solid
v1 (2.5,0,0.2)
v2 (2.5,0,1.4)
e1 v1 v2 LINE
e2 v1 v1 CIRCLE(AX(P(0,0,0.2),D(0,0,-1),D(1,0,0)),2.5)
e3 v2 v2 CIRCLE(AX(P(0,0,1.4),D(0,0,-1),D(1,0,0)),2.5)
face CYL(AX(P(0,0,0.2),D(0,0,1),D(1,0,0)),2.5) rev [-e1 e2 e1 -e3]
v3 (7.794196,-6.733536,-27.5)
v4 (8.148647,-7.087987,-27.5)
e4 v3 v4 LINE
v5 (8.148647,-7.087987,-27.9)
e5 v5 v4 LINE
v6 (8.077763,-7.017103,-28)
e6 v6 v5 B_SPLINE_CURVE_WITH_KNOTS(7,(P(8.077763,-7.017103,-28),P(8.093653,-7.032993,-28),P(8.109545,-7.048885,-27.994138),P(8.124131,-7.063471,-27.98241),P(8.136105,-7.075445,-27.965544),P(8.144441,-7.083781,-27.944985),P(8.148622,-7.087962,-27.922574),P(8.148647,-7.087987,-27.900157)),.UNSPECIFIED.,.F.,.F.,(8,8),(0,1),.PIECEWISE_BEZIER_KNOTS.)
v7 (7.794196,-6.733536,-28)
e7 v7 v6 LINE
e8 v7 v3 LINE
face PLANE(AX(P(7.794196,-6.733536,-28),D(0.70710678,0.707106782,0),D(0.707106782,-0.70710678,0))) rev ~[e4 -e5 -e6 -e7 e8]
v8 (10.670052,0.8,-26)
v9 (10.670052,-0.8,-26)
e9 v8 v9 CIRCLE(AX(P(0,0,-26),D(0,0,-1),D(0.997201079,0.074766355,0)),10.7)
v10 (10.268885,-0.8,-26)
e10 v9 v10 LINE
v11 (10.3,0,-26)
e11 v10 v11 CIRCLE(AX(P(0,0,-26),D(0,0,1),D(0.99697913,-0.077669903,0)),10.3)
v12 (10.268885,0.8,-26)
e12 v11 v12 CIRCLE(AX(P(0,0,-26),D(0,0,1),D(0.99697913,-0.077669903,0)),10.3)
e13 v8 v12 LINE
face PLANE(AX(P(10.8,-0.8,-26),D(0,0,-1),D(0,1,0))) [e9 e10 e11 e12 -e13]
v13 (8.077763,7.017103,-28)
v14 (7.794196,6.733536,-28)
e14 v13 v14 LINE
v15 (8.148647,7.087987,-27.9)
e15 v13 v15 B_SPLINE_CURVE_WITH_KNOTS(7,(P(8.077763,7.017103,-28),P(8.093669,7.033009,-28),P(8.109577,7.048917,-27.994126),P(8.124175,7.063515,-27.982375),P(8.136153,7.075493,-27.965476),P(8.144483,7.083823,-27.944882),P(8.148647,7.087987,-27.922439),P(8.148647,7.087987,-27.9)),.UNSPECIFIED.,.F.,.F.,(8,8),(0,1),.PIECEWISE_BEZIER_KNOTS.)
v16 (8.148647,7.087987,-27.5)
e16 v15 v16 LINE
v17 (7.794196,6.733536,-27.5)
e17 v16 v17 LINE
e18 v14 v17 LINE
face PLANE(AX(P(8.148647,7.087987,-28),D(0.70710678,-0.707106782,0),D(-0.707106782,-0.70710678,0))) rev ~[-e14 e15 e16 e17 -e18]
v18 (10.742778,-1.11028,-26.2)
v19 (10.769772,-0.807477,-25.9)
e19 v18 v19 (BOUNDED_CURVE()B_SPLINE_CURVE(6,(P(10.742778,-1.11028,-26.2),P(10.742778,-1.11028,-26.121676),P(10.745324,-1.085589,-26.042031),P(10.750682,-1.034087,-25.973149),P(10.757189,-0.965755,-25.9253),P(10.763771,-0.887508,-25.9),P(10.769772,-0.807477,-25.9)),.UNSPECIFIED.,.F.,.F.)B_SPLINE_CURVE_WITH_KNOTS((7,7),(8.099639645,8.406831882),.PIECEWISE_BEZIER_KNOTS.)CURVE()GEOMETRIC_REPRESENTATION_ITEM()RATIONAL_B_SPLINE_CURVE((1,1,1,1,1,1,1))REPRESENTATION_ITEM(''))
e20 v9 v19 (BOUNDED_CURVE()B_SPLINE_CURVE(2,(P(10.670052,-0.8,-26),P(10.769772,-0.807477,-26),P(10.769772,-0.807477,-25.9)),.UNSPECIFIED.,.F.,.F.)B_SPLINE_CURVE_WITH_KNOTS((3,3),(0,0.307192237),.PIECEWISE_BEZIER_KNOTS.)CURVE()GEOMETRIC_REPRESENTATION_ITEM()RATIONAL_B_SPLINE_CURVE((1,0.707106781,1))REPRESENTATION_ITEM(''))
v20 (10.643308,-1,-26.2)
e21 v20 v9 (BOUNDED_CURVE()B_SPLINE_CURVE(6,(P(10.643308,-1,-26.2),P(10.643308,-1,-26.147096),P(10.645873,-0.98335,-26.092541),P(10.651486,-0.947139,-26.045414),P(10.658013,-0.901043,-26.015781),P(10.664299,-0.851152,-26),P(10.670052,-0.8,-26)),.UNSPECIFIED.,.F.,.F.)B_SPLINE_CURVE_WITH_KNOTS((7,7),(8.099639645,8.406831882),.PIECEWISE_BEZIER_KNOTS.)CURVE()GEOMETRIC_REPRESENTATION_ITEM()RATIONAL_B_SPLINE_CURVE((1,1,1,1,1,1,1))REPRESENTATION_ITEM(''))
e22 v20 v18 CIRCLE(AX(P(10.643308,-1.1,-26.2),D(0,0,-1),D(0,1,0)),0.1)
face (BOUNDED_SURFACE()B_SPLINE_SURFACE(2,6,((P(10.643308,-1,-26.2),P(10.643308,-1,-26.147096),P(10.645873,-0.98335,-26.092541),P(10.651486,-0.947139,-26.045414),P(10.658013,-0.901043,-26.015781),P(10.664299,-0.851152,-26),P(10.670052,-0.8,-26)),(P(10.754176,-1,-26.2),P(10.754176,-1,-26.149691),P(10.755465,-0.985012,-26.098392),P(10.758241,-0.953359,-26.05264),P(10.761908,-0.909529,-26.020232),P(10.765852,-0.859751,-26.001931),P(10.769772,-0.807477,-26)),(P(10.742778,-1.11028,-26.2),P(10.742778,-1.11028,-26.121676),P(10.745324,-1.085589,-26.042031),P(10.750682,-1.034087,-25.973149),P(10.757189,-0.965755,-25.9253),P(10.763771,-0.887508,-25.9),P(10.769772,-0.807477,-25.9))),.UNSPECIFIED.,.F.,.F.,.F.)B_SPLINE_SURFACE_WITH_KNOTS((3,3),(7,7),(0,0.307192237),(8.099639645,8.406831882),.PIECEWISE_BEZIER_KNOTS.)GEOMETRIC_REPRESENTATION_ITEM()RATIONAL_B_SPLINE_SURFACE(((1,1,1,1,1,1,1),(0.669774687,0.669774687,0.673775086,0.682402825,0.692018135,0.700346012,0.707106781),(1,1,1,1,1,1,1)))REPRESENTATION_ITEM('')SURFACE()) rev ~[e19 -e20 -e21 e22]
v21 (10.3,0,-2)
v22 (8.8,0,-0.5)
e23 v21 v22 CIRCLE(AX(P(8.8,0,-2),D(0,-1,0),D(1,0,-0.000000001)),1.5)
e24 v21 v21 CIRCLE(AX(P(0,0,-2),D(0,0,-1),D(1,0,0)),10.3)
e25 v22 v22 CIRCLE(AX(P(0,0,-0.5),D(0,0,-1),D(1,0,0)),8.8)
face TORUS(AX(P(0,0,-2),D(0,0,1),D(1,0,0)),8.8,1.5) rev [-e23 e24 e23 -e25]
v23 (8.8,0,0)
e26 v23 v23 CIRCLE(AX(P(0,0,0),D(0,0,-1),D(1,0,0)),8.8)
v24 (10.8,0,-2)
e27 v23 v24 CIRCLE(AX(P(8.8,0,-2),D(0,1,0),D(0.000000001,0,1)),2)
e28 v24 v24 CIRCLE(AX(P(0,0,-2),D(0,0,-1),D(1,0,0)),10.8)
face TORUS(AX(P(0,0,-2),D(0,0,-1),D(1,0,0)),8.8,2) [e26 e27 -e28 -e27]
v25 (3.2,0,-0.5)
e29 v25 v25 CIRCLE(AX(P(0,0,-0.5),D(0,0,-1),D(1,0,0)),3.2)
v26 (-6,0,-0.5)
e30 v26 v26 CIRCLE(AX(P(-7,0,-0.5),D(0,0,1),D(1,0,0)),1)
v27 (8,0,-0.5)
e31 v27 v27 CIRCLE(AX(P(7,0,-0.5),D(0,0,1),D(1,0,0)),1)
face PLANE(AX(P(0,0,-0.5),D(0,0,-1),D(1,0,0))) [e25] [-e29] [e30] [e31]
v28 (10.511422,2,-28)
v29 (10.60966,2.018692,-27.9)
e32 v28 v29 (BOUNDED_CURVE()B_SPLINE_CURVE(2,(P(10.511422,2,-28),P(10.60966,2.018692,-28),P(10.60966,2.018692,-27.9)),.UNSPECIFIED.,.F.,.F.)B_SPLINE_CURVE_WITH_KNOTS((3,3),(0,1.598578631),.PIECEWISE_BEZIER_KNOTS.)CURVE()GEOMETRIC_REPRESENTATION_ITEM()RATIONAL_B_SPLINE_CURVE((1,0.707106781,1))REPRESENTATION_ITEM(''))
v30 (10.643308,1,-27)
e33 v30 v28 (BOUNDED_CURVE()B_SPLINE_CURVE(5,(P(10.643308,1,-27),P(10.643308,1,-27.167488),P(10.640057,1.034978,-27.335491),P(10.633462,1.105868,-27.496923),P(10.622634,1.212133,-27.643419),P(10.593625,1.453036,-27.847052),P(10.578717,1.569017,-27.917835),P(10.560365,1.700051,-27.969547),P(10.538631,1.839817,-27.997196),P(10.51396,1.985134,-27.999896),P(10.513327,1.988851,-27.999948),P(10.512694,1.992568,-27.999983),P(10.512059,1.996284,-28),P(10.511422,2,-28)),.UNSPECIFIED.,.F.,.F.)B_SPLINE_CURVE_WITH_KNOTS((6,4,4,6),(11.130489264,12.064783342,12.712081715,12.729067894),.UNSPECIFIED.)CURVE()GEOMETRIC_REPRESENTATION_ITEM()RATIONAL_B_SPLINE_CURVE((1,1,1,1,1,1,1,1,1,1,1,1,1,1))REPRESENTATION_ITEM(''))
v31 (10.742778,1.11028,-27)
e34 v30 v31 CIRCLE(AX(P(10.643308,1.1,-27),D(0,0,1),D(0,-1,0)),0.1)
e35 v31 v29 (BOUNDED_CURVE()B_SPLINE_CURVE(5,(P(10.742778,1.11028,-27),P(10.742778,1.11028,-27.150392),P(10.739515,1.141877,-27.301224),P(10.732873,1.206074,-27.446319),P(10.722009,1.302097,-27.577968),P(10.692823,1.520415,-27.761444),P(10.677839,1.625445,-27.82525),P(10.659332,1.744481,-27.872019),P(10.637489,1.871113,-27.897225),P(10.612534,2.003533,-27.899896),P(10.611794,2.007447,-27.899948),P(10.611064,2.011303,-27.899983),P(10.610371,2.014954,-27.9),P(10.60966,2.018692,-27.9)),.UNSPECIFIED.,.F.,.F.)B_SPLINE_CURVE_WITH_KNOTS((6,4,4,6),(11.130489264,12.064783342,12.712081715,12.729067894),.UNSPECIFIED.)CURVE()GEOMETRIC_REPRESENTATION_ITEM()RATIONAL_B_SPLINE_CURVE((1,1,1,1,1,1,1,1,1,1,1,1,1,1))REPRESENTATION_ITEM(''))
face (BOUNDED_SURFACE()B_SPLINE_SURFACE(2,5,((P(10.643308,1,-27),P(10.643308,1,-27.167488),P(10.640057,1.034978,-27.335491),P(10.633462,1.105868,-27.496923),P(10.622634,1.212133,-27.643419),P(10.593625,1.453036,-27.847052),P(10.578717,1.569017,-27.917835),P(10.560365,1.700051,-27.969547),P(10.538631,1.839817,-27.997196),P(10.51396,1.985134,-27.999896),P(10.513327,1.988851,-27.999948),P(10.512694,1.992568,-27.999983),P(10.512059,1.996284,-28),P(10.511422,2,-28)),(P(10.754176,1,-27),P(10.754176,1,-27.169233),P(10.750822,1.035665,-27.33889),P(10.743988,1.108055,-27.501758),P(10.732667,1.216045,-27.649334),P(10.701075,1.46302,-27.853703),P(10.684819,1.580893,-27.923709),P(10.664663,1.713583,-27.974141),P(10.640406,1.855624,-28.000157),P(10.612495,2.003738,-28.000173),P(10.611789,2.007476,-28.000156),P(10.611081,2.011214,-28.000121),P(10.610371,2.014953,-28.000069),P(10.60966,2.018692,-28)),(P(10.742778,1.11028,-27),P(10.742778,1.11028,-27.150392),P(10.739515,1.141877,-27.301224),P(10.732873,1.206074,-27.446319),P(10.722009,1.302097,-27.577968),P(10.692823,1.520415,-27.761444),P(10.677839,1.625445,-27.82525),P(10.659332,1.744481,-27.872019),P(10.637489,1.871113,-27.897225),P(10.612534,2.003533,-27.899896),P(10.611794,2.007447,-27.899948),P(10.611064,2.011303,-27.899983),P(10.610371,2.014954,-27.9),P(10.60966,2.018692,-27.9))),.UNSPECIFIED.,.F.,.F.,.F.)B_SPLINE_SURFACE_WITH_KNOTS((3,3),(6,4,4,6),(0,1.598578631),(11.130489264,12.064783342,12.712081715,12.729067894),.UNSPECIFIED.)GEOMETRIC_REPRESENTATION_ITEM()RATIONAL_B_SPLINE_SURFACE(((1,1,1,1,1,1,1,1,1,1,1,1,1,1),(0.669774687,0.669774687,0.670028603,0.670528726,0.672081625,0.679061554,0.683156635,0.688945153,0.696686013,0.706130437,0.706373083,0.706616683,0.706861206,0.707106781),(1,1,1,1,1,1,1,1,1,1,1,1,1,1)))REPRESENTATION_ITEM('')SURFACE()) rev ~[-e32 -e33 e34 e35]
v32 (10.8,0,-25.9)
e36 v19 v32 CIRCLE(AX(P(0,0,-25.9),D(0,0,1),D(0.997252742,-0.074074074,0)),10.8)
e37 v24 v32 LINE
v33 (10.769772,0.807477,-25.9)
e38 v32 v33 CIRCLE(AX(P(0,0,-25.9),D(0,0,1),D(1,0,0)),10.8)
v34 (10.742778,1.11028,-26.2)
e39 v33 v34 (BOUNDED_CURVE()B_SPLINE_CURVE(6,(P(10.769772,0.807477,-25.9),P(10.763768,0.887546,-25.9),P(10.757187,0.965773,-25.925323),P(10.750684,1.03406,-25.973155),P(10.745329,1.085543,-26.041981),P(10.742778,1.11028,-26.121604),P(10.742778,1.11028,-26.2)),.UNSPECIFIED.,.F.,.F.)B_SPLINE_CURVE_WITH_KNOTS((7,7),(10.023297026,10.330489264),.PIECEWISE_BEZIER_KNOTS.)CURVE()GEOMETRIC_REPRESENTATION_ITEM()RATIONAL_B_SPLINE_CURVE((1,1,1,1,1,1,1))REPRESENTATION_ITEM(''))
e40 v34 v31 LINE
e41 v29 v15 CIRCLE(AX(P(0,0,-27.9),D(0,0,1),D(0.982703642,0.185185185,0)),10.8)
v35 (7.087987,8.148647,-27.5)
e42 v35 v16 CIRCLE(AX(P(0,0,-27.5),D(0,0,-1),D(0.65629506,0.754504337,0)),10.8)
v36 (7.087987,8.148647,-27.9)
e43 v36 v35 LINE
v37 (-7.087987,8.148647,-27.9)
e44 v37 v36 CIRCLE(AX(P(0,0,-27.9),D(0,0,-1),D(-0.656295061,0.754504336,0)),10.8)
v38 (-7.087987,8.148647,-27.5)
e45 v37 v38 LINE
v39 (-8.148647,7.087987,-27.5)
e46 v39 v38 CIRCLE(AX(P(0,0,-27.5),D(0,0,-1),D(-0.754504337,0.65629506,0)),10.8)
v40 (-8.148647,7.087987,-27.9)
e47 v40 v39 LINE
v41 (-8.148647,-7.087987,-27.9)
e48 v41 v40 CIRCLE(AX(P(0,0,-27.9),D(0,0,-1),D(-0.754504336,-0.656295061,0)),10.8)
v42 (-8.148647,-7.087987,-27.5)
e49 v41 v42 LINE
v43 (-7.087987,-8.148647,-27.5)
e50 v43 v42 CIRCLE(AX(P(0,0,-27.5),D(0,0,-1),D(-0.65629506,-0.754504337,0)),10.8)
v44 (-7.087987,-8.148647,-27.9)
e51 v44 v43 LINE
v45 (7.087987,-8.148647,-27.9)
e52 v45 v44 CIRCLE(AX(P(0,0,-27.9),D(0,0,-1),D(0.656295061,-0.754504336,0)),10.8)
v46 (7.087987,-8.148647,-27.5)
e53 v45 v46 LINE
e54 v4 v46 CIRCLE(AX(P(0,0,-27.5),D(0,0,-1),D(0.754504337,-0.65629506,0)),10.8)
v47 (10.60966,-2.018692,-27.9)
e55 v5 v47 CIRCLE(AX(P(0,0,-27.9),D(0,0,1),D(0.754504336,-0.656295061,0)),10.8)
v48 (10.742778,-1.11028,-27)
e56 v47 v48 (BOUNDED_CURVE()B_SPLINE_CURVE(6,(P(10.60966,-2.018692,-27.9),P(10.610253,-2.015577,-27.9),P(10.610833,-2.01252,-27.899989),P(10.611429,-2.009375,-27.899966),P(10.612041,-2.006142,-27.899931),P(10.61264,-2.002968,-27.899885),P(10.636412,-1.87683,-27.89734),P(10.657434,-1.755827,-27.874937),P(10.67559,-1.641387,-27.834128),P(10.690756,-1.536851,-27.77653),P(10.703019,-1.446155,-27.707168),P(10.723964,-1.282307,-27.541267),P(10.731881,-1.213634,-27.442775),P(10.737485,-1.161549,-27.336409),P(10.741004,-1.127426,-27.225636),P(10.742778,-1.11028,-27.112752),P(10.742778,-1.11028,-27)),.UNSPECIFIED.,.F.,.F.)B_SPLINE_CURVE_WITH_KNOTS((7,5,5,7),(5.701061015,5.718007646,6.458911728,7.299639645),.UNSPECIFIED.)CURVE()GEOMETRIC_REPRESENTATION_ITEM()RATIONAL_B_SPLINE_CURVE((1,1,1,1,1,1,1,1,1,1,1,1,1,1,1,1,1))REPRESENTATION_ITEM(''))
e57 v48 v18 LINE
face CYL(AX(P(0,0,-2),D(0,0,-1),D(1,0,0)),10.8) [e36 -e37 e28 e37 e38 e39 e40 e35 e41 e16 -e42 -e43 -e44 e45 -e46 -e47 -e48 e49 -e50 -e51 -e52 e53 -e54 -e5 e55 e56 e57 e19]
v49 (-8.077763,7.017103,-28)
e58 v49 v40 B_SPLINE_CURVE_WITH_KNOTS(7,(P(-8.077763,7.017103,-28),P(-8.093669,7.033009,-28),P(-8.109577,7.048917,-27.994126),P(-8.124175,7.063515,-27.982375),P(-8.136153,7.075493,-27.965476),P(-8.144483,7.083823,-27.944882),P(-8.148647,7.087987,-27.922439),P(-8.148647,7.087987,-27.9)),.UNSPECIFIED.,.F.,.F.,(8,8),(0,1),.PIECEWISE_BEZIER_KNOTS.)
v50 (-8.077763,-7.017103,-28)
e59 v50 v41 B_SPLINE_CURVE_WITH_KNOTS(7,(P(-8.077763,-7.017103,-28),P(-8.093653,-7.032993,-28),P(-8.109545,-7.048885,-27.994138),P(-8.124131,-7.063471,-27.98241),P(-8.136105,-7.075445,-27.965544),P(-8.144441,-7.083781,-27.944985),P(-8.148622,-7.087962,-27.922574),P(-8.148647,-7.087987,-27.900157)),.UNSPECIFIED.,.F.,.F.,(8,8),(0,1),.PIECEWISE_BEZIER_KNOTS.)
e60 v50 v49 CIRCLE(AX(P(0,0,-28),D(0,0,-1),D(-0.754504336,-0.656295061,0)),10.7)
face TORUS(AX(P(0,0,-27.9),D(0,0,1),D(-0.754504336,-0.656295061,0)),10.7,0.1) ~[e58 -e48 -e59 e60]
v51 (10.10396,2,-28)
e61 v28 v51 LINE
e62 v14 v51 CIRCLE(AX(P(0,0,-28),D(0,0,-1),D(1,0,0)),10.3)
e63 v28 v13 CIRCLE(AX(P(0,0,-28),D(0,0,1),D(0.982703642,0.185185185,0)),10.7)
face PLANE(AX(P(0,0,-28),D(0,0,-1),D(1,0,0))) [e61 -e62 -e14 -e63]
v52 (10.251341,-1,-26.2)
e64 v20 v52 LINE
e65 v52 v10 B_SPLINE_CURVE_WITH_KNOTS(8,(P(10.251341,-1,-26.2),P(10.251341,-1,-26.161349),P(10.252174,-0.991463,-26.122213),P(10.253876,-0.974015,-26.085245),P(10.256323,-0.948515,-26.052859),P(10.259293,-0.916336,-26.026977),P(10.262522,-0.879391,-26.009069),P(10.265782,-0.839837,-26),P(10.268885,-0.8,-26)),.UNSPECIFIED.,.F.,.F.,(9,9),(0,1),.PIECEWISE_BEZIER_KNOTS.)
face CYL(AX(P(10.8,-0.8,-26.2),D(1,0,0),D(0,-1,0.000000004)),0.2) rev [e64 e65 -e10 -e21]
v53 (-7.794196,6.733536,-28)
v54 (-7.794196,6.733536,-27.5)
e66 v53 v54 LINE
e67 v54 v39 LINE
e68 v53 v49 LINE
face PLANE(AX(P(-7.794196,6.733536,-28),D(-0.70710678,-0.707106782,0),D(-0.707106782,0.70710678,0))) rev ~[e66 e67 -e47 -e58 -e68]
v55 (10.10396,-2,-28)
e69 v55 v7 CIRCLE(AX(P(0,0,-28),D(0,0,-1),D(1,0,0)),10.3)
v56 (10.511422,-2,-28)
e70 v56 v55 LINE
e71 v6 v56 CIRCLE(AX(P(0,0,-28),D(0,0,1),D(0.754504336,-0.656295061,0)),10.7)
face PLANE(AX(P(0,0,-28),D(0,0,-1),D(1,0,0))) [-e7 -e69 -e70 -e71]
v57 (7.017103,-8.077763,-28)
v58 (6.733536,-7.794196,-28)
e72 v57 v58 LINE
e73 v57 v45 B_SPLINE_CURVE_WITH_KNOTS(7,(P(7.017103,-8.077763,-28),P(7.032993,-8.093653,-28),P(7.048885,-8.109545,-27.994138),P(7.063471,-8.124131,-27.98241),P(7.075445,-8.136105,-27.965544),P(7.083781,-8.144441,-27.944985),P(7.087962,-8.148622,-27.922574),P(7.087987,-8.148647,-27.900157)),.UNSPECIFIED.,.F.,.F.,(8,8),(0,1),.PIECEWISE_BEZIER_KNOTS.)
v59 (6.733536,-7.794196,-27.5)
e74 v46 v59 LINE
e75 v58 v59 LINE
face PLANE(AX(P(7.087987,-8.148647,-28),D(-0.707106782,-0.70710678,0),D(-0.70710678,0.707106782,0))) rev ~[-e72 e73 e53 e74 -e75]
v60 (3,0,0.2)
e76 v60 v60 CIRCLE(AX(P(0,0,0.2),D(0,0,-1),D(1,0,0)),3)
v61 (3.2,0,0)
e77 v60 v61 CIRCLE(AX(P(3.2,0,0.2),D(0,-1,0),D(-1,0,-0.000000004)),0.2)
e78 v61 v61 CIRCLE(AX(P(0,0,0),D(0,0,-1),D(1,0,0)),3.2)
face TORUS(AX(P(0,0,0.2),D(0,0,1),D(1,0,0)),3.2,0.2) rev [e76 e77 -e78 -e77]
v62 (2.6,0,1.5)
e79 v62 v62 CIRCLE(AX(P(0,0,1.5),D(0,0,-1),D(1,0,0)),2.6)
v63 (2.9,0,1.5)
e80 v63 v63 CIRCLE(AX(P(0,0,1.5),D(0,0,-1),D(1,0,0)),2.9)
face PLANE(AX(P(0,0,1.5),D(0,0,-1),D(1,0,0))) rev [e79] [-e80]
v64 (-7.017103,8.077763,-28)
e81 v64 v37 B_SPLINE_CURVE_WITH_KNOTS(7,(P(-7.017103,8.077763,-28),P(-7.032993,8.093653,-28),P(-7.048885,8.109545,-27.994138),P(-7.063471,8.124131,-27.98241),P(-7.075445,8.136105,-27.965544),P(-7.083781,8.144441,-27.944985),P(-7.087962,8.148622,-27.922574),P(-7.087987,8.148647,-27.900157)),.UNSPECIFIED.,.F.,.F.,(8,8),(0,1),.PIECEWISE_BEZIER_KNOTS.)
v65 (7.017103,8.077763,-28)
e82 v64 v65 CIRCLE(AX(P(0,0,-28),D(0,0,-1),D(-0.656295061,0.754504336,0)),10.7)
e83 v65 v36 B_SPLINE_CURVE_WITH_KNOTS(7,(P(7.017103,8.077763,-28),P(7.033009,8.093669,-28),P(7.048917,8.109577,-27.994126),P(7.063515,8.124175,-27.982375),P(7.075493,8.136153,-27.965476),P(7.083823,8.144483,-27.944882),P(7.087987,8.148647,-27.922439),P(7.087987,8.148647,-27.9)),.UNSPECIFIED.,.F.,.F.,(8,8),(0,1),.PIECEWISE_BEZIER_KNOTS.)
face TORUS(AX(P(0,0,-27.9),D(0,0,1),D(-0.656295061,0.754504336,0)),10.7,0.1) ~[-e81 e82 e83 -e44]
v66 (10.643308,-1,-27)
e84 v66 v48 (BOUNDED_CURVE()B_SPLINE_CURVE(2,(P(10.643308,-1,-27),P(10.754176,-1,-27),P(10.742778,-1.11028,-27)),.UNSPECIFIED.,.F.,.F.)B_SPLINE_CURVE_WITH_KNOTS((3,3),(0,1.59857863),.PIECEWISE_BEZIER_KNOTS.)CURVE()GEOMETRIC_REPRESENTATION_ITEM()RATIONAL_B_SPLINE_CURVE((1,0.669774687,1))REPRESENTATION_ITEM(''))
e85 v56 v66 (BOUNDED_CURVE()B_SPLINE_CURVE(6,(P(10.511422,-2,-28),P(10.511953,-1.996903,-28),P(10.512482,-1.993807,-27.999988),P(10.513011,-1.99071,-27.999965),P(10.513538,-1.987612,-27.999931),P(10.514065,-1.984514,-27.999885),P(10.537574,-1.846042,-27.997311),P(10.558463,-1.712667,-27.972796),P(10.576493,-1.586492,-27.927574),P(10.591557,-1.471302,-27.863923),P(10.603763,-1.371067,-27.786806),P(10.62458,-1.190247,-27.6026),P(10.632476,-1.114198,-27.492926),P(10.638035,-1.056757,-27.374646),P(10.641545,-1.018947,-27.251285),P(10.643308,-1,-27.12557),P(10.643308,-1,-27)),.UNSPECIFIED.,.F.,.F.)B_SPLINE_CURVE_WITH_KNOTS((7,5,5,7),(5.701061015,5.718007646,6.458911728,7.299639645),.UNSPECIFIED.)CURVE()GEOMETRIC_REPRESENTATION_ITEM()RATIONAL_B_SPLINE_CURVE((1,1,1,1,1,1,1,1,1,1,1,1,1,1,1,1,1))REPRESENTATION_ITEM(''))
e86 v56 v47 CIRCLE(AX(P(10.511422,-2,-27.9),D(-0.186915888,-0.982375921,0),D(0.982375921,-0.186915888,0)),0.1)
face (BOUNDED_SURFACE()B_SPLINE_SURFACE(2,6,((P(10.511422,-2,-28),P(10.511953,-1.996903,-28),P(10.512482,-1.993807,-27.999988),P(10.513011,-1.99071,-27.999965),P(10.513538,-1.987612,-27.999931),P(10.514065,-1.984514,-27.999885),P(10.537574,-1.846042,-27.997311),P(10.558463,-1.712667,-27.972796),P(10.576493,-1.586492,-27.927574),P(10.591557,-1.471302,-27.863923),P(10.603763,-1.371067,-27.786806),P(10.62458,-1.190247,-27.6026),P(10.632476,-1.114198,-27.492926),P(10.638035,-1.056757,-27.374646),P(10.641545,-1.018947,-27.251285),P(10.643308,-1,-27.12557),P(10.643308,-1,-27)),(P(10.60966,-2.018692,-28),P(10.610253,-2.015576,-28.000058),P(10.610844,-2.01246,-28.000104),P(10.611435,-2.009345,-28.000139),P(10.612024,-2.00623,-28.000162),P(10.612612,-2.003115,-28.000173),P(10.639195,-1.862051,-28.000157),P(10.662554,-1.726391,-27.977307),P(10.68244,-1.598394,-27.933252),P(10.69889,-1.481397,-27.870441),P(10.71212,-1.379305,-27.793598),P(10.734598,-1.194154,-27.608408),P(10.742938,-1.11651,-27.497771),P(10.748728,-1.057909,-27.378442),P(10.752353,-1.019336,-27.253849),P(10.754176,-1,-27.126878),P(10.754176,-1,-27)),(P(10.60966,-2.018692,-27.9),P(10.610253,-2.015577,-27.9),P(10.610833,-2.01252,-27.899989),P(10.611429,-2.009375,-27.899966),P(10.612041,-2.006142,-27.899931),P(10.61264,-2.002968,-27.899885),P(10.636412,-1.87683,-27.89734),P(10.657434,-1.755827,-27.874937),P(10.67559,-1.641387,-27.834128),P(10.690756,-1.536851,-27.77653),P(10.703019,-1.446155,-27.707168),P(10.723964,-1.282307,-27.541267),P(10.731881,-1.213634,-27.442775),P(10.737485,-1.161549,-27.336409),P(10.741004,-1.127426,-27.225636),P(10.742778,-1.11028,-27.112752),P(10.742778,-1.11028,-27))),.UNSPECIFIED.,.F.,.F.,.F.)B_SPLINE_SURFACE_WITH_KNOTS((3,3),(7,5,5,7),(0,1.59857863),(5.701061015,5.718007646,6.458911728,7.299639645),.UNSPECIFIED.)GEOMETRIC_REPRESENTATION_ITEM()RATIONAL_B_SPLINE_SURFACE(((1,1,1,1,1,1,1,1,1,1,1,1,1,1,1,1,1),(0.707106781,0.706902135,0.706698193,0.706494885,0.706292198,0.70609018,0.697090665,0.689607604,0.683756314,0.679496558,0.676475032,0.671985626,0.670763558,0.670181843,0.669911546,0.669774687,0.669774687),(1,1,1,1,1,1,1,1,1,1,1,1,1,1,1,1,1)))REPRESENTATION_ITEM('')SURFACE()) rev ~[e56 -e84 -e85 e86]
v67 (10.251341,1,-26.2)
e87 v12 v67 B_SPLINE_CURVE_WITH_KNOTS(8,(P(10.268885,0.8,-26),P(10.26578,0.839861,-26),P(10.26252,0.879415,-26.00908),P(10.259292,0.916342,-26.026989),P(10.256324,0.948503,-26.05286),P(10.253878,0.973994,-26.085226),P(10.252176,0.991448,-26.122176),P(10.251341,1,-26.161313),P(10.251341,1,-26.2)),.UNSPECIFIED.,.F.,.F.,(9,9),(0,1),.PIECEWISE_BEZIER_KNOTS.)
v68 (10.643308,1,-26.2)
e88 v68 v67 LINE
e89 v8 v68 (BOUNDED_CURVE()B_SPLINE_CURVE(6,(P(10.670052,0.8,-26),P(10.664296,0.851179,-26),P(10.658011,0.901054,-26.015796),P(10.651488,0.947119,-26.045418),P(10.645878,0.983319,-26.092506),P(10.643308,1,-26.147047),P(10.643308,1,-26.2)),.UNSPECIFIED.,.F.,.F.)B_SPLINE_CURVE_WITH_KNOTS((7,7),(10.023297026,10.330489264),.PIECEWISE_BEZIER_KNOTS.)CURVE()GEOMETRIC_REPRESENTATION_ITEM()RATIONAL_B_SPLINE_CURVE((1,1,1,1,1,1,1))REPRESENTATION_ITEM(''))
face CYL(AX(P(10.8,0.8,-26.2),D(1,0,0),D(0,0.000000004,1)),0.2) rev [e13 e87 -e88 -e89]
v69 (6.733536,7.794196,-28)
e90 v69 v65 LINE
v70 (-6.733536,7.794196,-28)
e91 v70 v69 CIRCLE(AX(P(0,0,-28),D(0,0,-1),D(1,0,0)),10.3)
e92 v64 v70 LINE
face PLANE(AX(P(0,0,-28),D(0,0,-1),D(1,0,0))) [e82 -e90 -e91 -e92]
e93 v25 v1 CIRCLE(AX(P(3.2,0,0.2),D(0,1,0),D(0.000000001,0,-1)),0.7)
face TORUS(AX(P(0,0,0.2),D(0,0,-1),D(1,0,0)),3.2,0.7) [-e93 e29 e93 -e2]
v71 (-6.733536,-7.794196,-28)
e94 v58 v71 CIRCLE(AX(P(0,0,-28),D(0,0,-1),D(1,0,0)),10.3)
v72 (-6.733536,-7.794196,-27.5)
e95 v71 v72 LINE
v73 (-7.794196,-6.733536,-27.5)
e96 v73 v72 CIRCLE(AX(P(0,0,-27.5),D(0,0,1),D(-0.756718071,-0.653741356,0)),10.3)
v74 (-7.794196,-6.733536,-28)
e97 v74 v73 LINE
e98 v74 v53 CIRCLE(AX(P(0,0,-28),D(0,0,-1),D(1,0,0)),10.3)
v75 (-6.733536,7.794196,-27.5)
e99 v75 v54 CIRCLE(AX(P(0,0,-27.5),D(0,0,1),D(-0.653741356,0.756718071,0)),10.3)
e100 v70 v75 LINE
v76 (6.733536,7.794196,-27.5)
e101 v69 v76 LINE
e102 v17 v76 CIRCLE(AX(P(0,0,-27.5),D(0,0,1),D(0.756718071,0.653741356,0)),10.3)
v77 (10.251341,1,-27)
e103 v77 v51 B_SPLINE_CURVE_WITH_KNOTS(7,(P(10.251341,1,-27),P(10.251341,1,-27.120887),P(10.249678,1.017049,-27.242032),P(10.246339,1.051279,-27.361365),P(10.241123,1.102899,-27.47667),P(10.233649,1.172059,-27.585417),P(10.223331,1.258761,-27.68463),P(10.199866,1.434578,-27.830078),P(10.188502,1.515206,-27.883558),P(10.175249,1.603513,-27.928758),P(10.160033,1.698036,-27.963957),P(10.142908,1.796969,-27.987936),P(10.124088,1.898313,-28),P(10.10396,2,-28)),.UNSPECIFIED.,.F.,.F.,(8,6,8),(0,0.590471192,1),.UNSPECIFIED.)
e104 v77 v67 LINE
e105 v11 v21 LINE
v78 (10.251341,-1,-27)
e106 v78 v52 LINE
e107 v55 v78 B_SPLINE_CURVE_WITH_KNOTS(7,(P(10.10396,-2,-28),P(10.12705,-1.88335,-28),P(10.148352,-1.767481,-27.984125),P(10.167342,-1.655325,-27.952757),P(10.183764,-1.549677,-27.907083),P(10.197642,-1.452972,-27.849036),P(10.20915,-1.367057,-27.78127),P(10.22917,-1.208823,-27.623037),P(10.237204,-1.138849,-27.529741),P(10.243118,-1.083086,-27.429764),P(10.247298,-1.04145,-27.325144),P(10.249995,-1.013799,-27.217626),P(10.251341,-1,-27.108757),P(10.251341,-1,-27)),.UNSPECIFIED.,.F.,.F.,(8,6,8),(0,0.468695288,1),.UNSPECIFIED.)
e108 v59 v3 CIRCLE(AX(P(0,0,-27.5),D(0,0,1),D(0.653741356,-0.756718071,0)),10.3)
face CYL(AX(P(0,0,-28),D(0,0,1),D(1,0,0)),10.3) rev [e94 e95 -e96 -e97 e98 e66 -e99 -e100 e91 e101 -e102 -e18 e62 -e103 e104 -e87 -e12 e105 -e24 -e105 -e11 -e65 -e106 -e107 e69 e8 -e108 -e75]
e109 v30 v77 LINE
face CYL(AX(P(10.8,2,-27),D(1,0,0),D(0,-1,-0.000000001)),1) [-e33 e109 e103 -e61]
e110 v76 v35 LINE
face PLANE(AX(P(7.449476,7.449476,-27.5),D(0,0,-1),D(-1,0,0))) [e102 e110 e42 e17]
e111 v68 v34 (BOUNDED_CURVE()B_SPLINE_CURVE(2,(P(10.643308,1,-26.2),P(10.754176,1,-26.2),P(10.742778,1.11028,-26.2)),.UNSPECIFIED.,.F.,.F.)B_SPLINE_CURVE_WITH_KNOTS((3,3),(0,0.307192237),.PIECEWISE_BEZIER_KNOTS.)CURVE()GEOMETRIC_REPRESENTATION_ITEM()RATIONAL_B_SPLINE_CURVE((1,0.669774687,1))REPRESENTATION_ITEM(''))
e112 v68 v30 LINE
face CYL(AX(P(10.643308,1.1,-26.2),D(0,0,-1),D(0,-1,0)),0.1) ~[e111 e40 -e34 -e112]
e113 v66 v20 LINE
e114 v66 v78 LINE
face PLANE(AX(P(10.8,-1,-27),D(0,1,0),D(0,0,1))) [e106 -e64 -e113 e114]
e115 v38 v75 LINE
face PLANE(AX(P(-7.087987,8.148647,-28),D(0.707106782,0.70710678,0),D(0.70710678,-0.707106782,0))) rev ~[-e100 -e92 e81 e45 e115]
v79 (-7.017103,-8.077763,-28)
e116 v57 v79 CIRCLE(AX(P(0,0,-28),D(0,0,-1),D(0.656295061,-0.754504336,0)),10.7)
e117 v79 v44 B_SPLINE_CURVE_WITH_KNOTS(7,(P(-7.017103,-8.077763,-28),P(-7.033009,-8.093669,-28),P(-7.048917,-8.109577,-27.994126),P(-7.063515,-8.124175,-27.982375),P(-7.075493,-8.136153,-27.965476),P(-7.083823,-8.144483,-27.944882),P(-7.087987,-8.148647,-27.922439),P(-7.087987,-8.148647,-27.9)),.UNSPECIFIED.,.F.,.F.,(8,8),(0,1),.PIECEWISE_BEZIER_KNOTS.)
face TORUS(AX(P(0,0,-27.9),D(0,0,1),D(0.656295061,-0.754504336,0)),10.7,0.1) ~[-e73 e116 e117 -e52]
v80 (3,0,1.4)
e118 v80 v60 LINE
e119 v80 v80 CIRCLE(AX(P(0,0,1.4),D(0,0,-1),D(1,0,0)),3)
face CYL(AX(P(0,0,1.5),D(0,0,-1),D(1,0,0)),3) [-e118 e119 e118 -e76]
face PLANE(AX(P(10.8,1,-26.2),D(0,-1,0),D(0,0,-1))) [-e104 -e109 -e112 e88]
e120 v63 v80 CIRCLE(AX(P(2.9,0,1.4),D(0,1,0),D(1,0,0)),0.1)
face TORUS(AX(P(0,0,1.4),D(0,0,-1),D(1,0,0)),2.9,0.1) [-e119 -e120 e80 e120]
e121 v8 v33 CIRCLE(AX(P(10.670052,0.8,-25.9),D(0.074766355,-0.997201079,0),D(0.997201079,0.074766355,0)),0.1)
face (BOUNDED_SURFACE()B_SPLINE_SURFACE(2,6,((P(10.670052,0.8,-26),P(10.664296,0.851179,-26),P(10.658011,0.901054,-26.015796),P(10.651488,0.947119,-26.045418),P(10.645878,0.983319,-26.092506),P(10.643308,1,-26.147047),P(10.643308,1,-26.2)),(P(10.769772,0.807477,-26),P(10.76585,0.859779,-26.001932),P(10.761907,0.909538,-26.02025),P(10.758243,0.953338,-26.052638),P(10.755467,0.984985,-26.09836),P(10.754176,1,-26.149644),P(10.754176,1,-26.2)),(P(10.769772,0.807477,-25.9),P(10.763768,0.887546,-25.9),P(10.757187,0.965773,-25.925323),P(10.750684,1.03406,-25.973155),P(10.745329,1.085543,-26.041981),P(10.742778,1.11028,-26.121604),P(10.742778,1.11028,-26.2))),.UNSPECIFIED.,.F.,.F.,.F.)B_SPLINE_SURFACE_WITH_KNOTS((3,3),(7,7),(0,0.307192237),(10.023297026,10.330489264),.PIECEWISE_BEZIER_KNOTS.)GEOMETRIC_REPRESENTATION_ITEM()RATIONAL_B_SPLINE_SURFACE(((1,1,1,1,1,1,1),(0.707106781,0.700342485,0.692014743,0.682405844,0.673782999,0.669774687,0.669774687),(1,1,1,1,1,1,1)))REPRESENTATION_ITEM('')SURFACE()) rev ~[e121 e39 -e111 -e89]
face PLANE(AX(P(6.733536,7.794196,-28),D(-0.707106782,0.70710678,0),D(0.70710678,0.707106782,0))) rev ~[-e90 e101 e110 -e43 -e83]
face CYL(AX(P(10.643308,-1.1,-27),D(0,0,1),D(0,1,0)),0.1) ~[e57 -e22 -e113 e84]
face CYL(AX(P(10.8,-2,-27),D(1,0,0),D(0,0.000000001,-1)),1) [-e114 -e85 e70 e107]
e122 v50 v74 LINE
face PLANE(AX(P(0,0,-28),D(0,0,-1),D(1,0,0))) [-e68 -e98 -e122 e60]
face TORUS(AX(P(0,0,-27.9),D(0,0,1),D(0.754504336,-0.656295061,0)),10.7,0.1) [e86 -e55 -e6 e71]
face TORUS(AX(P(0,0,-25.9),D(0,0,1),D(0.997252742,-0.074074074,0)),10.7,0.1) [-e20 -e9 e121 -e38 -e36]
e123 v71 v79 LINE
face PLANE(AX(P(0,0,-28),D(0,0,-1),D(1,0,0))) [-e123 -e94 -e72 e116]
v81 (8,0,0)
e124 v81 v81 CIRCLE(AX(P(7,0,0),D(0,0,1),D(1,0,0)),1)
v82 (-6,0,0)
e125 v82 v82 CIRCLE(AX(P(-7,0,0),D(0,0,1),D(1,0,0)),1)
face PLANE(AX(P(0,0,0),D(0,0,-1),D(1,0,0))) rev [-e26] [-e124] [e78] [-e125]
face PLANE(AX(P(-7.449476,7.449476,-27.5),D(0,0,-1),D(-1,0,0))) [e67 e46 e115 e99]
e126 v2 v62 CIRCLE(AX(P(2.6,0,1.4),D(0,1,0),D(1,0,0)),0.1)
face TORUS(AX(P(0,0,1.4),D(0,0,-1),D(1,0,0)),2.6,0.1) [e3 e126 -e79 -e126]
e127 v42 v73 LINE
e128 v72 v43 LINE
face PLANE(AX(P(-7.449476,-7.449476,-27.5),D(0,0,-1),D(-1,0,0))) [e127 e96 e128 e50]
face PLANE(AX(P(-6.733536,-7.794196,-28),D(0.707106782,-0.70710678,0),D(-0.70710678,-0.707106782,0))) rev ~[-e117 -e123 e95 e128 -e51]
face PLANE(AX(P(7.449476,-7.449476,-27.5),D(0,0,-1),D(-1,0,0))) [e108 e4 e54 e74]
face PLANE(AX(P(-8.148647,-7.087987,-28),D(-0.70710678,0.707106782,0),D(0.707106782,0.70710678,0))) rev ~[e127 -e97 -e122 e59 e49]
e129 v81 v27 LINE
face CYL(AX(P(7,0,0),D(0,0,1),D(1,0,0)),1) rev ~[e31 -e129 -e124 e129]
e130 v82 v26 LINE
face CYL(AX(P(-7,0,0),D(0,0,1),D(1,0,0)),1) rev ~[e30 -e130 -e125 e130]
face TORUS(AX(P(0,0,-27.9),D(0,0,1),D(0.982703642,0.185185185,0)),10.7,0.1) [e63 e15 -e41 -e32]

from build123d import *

# Parameters (mm, degrees)
FILLET1_R          = 0.1
CUT_EXTRUDE1_DEPTH = 0.5
CUT_EXTRUDE2_REACH = 38.976
FILLET2_R          = 0.1
CUT_EXTRUDE3_REACH = 33.895
SKETCH6_R          = 1


with BuildPart() as part:
    # Sketch1 → Revolve1 (revolve)
    with BuildSketch(Plane(origin=(0, 0, 0), x_dir=(0, 0, -1), z_dir=(1, 0, 0)), mode=Mode.PRIVATE) as revolve1_sk:
        with BuildLine():
            Line((0, 3.2), (0, 8.8))
            ThreePointArc((0, 8.8), (0.585786438, 10.214213562), (2, 10.8))
            Line((2, 10.8), (28, 10.8))
            Line((28, 10.8), (28, 10.3))
            Line((28, 10.3), (2, 10.3))
            ThreePointArc((2, 10.3), (0.939339828, 9.860660172), (0.5, 8.8))
            Line((0.5, 8.8), (0.5, 3.2))
            ThreePointArc((0.5, 3.2), (0.294974747, 2.705025253), (-0.2, 2.5))
            Line((-0.2, 2.5), (-1.5, 2.5))
            Line((-1.5, 2.5), (-1.5, 3))
            Line((-1.5, 3), (-0.2, 3))
            ThreePointArc((-0.2, 3), (-0.058578644, 3.058578644), (0, 3.2))
        make_face()
    revolve(revolve1_sk.sketch.rotate(Axis((0, 0, 0), (0, 0, -1)), 90), axis=Axis((0, 0, 0), (0, 0, -1)))

    # Fillet1
    fillet1_edges = [part.edges().sort_by_distance(p)[0] for p in [
        (-3, 0, 1.5),
        (-2.5, 0, 1.5),
    ]]
    fillet(fillet1_edges, radius=FILLET1_R)

    # Sketch2 → Cut-Extrude1 (cut)
    with BuildSketch(Plane(origin=(0, 0, -28), x_dir=(-1, 0, 0), z_dir=(0, 0, -1))):
        with BuildLine():
            Line((7.087986657, 8.148646829), (6.733535965, 7.794196136))
            ThreePointArc((6.733535965, 7.794196136), (7.283199846, 7.283199846), (7.794196136, 6.733535965))
            Line((7.794196136, 6.733535965), (8.148646829, 7.087986657))
            ThreePointArc((8.148646829, 7.087986657), (7.636753237, 7.636753237), (7.087986657, 8.148646829))
        make_face()
        with BuildLine():
            Line((6.733535965, -7.794196136), (7.087986657, -8.148646829))
            ThreePointArc((7.087986657, -8.148646829), (7.636753237, -7.636753237), (8.148646829, -7.087986657))
            Line((8.148646829, -7.087986657), (7.794196136, -6.733535965))
            ThreePointArc((7.794196136, -6.733535965), (7.283199846, -7.283199846), (6.733535965, -7.794196136))
        make_face()
        with BuildLine():
            Line((-7.794196136, -6.733535965), (-8.148646829, -7.087986657))
            ThreePointArc((-8.148646829, -7.087986657), (-7.636753237, -7.636753237), (-7.087986657, -8.148646829))
            Line((-7.087986657, -8.148646829), (-6.733535965, -7.794196136))
            ThreePointArc((-6.733535965, -7.794196136), (-7.283199846, -7.283199846), (-7.794196136, -6.733535965))
        make_face()
        with BuildLine():
            Line((-6.733535965, 7.794196136), (-7.087986657, 8.148646829))
            ThreePointArc((-7.087986657, 8.148646829), (-7.636753237, 7.636753237), (-8.148646829, 7.087986657))
            Line((-8.148646829, 7.087986657), (-7.794196136, 6.733535965))
            ThreePointArc((-7.794196136, 6.733535965), (-7.283199846, 7.283199846), (-6.733535965, 7.794196136))
        make_face()
    extrude(amount=-CUT_EXTRUDE1_DEPTH, mode=Mode.SUBTRACT)

    # Sketch5 → Cut-Extrude2 (cut, up to next)
    with BuildSketch(Plane(origin=(10.8, 0, 0), x_dir=(0, 0, -1), z_dir=(1, 0, 0)), mode=Mode.PRIVATE) as cut_extrude2_sk1:
        with BuildLine():
            ThreePointArc((26, 0.8), (26.058578644, 0.941421356), (26.2, 1))
            Line((26.2, 1), (27, 1))
            ThreePointArc((27, 1), (27.707106781, 1.292893219), (28, 2))
            Line((28, 2), (28, -2))
            ThreePointArc((28, -2), (27.707106781, -1.292893219), (27, -1))
            Line((27, -1), (26.2, -1))
            ThreePointArc((26.2, -1), (26.058578644, -0.941421356), (26, -0.8))
            Line((26, -0.8), (26, 0.8))
        make_face()
    cut_extrude2_tool1 = extrude(cut_extrude2_sk1.sketch, amount=-CUT_EXTRUDE2_REACH, mode=Mode.PRIVATE) & part.part
    add(cut_extrude2_tool1.solids().sort_by_distance((10.8, 0, -27.079268))[0], mode=Mode.SUBTRACT)

    # Fillet2
    fillet2_edges = [part.edges().sort_by_distance(p)[0] for p in [
        (10.75889989, 0.941314589, -26.058471962),
        (10.753604047, 1, -26.6),
        (10.722033002, -1.295379599, -27.70958445),
        (10.792579855, 0.400275009, -26),
        (10.722033001, 1.29537959, -27.709584458),
        (10.75889989, -0.941314591, -26.058471961),
        (10.753604047, -1, -26.6),
        (0, 10.8, -28),
        (-10.8, 0, -28),
        (0, -10.8, -28),
        (9.719754106, -4.708118534, -28),
        (9.719754106, 4.708118534, -28),
    ]]
    fillet(fillet2_edges, radius=FILLET2_R)

    # Sketch6 → Cut-Extrude3 (cut, up to next)
    with BuildSketch(Plane.XY, mode=Mode.PRIVATE) as cut_extrude3_sk1:
        with Locations((7, 0)):
            Circle(SKETCH6_R)
    cut_extrude3_tool1 = extrude(cut_extrude3_sk1.sketch, amount=-CUT_EXTRUDE3_REACH, mode=Mode.PRIVATE) & part.part
    # Sketch6 → Cut-Extrude3 (cut, up to next)
    with BuildSketch(Plane.XY, mode=Mode.PRIVATE) as cut_extrude3_sk2:
        with Locations((-7, 0)):
            Circle(SKETCH6_R)
    cut_extrude3_tool2 = extrude(cut_extrude3_sk2.sketch, amount=-CUT_EXTRUDE3_REACH, mode=Mode.PRIVATE) & part.part
    add(cut_extrude3_tool1.solids().sort_by_distance((7, 0, 0))[0], mode=Mode.SUBTRACT)
    add(cut_extrude3_tool2.solids().sort_by_distance((-7, 0, 0))[0], mode=Mode.SUBTRACT)


solid = part.part
